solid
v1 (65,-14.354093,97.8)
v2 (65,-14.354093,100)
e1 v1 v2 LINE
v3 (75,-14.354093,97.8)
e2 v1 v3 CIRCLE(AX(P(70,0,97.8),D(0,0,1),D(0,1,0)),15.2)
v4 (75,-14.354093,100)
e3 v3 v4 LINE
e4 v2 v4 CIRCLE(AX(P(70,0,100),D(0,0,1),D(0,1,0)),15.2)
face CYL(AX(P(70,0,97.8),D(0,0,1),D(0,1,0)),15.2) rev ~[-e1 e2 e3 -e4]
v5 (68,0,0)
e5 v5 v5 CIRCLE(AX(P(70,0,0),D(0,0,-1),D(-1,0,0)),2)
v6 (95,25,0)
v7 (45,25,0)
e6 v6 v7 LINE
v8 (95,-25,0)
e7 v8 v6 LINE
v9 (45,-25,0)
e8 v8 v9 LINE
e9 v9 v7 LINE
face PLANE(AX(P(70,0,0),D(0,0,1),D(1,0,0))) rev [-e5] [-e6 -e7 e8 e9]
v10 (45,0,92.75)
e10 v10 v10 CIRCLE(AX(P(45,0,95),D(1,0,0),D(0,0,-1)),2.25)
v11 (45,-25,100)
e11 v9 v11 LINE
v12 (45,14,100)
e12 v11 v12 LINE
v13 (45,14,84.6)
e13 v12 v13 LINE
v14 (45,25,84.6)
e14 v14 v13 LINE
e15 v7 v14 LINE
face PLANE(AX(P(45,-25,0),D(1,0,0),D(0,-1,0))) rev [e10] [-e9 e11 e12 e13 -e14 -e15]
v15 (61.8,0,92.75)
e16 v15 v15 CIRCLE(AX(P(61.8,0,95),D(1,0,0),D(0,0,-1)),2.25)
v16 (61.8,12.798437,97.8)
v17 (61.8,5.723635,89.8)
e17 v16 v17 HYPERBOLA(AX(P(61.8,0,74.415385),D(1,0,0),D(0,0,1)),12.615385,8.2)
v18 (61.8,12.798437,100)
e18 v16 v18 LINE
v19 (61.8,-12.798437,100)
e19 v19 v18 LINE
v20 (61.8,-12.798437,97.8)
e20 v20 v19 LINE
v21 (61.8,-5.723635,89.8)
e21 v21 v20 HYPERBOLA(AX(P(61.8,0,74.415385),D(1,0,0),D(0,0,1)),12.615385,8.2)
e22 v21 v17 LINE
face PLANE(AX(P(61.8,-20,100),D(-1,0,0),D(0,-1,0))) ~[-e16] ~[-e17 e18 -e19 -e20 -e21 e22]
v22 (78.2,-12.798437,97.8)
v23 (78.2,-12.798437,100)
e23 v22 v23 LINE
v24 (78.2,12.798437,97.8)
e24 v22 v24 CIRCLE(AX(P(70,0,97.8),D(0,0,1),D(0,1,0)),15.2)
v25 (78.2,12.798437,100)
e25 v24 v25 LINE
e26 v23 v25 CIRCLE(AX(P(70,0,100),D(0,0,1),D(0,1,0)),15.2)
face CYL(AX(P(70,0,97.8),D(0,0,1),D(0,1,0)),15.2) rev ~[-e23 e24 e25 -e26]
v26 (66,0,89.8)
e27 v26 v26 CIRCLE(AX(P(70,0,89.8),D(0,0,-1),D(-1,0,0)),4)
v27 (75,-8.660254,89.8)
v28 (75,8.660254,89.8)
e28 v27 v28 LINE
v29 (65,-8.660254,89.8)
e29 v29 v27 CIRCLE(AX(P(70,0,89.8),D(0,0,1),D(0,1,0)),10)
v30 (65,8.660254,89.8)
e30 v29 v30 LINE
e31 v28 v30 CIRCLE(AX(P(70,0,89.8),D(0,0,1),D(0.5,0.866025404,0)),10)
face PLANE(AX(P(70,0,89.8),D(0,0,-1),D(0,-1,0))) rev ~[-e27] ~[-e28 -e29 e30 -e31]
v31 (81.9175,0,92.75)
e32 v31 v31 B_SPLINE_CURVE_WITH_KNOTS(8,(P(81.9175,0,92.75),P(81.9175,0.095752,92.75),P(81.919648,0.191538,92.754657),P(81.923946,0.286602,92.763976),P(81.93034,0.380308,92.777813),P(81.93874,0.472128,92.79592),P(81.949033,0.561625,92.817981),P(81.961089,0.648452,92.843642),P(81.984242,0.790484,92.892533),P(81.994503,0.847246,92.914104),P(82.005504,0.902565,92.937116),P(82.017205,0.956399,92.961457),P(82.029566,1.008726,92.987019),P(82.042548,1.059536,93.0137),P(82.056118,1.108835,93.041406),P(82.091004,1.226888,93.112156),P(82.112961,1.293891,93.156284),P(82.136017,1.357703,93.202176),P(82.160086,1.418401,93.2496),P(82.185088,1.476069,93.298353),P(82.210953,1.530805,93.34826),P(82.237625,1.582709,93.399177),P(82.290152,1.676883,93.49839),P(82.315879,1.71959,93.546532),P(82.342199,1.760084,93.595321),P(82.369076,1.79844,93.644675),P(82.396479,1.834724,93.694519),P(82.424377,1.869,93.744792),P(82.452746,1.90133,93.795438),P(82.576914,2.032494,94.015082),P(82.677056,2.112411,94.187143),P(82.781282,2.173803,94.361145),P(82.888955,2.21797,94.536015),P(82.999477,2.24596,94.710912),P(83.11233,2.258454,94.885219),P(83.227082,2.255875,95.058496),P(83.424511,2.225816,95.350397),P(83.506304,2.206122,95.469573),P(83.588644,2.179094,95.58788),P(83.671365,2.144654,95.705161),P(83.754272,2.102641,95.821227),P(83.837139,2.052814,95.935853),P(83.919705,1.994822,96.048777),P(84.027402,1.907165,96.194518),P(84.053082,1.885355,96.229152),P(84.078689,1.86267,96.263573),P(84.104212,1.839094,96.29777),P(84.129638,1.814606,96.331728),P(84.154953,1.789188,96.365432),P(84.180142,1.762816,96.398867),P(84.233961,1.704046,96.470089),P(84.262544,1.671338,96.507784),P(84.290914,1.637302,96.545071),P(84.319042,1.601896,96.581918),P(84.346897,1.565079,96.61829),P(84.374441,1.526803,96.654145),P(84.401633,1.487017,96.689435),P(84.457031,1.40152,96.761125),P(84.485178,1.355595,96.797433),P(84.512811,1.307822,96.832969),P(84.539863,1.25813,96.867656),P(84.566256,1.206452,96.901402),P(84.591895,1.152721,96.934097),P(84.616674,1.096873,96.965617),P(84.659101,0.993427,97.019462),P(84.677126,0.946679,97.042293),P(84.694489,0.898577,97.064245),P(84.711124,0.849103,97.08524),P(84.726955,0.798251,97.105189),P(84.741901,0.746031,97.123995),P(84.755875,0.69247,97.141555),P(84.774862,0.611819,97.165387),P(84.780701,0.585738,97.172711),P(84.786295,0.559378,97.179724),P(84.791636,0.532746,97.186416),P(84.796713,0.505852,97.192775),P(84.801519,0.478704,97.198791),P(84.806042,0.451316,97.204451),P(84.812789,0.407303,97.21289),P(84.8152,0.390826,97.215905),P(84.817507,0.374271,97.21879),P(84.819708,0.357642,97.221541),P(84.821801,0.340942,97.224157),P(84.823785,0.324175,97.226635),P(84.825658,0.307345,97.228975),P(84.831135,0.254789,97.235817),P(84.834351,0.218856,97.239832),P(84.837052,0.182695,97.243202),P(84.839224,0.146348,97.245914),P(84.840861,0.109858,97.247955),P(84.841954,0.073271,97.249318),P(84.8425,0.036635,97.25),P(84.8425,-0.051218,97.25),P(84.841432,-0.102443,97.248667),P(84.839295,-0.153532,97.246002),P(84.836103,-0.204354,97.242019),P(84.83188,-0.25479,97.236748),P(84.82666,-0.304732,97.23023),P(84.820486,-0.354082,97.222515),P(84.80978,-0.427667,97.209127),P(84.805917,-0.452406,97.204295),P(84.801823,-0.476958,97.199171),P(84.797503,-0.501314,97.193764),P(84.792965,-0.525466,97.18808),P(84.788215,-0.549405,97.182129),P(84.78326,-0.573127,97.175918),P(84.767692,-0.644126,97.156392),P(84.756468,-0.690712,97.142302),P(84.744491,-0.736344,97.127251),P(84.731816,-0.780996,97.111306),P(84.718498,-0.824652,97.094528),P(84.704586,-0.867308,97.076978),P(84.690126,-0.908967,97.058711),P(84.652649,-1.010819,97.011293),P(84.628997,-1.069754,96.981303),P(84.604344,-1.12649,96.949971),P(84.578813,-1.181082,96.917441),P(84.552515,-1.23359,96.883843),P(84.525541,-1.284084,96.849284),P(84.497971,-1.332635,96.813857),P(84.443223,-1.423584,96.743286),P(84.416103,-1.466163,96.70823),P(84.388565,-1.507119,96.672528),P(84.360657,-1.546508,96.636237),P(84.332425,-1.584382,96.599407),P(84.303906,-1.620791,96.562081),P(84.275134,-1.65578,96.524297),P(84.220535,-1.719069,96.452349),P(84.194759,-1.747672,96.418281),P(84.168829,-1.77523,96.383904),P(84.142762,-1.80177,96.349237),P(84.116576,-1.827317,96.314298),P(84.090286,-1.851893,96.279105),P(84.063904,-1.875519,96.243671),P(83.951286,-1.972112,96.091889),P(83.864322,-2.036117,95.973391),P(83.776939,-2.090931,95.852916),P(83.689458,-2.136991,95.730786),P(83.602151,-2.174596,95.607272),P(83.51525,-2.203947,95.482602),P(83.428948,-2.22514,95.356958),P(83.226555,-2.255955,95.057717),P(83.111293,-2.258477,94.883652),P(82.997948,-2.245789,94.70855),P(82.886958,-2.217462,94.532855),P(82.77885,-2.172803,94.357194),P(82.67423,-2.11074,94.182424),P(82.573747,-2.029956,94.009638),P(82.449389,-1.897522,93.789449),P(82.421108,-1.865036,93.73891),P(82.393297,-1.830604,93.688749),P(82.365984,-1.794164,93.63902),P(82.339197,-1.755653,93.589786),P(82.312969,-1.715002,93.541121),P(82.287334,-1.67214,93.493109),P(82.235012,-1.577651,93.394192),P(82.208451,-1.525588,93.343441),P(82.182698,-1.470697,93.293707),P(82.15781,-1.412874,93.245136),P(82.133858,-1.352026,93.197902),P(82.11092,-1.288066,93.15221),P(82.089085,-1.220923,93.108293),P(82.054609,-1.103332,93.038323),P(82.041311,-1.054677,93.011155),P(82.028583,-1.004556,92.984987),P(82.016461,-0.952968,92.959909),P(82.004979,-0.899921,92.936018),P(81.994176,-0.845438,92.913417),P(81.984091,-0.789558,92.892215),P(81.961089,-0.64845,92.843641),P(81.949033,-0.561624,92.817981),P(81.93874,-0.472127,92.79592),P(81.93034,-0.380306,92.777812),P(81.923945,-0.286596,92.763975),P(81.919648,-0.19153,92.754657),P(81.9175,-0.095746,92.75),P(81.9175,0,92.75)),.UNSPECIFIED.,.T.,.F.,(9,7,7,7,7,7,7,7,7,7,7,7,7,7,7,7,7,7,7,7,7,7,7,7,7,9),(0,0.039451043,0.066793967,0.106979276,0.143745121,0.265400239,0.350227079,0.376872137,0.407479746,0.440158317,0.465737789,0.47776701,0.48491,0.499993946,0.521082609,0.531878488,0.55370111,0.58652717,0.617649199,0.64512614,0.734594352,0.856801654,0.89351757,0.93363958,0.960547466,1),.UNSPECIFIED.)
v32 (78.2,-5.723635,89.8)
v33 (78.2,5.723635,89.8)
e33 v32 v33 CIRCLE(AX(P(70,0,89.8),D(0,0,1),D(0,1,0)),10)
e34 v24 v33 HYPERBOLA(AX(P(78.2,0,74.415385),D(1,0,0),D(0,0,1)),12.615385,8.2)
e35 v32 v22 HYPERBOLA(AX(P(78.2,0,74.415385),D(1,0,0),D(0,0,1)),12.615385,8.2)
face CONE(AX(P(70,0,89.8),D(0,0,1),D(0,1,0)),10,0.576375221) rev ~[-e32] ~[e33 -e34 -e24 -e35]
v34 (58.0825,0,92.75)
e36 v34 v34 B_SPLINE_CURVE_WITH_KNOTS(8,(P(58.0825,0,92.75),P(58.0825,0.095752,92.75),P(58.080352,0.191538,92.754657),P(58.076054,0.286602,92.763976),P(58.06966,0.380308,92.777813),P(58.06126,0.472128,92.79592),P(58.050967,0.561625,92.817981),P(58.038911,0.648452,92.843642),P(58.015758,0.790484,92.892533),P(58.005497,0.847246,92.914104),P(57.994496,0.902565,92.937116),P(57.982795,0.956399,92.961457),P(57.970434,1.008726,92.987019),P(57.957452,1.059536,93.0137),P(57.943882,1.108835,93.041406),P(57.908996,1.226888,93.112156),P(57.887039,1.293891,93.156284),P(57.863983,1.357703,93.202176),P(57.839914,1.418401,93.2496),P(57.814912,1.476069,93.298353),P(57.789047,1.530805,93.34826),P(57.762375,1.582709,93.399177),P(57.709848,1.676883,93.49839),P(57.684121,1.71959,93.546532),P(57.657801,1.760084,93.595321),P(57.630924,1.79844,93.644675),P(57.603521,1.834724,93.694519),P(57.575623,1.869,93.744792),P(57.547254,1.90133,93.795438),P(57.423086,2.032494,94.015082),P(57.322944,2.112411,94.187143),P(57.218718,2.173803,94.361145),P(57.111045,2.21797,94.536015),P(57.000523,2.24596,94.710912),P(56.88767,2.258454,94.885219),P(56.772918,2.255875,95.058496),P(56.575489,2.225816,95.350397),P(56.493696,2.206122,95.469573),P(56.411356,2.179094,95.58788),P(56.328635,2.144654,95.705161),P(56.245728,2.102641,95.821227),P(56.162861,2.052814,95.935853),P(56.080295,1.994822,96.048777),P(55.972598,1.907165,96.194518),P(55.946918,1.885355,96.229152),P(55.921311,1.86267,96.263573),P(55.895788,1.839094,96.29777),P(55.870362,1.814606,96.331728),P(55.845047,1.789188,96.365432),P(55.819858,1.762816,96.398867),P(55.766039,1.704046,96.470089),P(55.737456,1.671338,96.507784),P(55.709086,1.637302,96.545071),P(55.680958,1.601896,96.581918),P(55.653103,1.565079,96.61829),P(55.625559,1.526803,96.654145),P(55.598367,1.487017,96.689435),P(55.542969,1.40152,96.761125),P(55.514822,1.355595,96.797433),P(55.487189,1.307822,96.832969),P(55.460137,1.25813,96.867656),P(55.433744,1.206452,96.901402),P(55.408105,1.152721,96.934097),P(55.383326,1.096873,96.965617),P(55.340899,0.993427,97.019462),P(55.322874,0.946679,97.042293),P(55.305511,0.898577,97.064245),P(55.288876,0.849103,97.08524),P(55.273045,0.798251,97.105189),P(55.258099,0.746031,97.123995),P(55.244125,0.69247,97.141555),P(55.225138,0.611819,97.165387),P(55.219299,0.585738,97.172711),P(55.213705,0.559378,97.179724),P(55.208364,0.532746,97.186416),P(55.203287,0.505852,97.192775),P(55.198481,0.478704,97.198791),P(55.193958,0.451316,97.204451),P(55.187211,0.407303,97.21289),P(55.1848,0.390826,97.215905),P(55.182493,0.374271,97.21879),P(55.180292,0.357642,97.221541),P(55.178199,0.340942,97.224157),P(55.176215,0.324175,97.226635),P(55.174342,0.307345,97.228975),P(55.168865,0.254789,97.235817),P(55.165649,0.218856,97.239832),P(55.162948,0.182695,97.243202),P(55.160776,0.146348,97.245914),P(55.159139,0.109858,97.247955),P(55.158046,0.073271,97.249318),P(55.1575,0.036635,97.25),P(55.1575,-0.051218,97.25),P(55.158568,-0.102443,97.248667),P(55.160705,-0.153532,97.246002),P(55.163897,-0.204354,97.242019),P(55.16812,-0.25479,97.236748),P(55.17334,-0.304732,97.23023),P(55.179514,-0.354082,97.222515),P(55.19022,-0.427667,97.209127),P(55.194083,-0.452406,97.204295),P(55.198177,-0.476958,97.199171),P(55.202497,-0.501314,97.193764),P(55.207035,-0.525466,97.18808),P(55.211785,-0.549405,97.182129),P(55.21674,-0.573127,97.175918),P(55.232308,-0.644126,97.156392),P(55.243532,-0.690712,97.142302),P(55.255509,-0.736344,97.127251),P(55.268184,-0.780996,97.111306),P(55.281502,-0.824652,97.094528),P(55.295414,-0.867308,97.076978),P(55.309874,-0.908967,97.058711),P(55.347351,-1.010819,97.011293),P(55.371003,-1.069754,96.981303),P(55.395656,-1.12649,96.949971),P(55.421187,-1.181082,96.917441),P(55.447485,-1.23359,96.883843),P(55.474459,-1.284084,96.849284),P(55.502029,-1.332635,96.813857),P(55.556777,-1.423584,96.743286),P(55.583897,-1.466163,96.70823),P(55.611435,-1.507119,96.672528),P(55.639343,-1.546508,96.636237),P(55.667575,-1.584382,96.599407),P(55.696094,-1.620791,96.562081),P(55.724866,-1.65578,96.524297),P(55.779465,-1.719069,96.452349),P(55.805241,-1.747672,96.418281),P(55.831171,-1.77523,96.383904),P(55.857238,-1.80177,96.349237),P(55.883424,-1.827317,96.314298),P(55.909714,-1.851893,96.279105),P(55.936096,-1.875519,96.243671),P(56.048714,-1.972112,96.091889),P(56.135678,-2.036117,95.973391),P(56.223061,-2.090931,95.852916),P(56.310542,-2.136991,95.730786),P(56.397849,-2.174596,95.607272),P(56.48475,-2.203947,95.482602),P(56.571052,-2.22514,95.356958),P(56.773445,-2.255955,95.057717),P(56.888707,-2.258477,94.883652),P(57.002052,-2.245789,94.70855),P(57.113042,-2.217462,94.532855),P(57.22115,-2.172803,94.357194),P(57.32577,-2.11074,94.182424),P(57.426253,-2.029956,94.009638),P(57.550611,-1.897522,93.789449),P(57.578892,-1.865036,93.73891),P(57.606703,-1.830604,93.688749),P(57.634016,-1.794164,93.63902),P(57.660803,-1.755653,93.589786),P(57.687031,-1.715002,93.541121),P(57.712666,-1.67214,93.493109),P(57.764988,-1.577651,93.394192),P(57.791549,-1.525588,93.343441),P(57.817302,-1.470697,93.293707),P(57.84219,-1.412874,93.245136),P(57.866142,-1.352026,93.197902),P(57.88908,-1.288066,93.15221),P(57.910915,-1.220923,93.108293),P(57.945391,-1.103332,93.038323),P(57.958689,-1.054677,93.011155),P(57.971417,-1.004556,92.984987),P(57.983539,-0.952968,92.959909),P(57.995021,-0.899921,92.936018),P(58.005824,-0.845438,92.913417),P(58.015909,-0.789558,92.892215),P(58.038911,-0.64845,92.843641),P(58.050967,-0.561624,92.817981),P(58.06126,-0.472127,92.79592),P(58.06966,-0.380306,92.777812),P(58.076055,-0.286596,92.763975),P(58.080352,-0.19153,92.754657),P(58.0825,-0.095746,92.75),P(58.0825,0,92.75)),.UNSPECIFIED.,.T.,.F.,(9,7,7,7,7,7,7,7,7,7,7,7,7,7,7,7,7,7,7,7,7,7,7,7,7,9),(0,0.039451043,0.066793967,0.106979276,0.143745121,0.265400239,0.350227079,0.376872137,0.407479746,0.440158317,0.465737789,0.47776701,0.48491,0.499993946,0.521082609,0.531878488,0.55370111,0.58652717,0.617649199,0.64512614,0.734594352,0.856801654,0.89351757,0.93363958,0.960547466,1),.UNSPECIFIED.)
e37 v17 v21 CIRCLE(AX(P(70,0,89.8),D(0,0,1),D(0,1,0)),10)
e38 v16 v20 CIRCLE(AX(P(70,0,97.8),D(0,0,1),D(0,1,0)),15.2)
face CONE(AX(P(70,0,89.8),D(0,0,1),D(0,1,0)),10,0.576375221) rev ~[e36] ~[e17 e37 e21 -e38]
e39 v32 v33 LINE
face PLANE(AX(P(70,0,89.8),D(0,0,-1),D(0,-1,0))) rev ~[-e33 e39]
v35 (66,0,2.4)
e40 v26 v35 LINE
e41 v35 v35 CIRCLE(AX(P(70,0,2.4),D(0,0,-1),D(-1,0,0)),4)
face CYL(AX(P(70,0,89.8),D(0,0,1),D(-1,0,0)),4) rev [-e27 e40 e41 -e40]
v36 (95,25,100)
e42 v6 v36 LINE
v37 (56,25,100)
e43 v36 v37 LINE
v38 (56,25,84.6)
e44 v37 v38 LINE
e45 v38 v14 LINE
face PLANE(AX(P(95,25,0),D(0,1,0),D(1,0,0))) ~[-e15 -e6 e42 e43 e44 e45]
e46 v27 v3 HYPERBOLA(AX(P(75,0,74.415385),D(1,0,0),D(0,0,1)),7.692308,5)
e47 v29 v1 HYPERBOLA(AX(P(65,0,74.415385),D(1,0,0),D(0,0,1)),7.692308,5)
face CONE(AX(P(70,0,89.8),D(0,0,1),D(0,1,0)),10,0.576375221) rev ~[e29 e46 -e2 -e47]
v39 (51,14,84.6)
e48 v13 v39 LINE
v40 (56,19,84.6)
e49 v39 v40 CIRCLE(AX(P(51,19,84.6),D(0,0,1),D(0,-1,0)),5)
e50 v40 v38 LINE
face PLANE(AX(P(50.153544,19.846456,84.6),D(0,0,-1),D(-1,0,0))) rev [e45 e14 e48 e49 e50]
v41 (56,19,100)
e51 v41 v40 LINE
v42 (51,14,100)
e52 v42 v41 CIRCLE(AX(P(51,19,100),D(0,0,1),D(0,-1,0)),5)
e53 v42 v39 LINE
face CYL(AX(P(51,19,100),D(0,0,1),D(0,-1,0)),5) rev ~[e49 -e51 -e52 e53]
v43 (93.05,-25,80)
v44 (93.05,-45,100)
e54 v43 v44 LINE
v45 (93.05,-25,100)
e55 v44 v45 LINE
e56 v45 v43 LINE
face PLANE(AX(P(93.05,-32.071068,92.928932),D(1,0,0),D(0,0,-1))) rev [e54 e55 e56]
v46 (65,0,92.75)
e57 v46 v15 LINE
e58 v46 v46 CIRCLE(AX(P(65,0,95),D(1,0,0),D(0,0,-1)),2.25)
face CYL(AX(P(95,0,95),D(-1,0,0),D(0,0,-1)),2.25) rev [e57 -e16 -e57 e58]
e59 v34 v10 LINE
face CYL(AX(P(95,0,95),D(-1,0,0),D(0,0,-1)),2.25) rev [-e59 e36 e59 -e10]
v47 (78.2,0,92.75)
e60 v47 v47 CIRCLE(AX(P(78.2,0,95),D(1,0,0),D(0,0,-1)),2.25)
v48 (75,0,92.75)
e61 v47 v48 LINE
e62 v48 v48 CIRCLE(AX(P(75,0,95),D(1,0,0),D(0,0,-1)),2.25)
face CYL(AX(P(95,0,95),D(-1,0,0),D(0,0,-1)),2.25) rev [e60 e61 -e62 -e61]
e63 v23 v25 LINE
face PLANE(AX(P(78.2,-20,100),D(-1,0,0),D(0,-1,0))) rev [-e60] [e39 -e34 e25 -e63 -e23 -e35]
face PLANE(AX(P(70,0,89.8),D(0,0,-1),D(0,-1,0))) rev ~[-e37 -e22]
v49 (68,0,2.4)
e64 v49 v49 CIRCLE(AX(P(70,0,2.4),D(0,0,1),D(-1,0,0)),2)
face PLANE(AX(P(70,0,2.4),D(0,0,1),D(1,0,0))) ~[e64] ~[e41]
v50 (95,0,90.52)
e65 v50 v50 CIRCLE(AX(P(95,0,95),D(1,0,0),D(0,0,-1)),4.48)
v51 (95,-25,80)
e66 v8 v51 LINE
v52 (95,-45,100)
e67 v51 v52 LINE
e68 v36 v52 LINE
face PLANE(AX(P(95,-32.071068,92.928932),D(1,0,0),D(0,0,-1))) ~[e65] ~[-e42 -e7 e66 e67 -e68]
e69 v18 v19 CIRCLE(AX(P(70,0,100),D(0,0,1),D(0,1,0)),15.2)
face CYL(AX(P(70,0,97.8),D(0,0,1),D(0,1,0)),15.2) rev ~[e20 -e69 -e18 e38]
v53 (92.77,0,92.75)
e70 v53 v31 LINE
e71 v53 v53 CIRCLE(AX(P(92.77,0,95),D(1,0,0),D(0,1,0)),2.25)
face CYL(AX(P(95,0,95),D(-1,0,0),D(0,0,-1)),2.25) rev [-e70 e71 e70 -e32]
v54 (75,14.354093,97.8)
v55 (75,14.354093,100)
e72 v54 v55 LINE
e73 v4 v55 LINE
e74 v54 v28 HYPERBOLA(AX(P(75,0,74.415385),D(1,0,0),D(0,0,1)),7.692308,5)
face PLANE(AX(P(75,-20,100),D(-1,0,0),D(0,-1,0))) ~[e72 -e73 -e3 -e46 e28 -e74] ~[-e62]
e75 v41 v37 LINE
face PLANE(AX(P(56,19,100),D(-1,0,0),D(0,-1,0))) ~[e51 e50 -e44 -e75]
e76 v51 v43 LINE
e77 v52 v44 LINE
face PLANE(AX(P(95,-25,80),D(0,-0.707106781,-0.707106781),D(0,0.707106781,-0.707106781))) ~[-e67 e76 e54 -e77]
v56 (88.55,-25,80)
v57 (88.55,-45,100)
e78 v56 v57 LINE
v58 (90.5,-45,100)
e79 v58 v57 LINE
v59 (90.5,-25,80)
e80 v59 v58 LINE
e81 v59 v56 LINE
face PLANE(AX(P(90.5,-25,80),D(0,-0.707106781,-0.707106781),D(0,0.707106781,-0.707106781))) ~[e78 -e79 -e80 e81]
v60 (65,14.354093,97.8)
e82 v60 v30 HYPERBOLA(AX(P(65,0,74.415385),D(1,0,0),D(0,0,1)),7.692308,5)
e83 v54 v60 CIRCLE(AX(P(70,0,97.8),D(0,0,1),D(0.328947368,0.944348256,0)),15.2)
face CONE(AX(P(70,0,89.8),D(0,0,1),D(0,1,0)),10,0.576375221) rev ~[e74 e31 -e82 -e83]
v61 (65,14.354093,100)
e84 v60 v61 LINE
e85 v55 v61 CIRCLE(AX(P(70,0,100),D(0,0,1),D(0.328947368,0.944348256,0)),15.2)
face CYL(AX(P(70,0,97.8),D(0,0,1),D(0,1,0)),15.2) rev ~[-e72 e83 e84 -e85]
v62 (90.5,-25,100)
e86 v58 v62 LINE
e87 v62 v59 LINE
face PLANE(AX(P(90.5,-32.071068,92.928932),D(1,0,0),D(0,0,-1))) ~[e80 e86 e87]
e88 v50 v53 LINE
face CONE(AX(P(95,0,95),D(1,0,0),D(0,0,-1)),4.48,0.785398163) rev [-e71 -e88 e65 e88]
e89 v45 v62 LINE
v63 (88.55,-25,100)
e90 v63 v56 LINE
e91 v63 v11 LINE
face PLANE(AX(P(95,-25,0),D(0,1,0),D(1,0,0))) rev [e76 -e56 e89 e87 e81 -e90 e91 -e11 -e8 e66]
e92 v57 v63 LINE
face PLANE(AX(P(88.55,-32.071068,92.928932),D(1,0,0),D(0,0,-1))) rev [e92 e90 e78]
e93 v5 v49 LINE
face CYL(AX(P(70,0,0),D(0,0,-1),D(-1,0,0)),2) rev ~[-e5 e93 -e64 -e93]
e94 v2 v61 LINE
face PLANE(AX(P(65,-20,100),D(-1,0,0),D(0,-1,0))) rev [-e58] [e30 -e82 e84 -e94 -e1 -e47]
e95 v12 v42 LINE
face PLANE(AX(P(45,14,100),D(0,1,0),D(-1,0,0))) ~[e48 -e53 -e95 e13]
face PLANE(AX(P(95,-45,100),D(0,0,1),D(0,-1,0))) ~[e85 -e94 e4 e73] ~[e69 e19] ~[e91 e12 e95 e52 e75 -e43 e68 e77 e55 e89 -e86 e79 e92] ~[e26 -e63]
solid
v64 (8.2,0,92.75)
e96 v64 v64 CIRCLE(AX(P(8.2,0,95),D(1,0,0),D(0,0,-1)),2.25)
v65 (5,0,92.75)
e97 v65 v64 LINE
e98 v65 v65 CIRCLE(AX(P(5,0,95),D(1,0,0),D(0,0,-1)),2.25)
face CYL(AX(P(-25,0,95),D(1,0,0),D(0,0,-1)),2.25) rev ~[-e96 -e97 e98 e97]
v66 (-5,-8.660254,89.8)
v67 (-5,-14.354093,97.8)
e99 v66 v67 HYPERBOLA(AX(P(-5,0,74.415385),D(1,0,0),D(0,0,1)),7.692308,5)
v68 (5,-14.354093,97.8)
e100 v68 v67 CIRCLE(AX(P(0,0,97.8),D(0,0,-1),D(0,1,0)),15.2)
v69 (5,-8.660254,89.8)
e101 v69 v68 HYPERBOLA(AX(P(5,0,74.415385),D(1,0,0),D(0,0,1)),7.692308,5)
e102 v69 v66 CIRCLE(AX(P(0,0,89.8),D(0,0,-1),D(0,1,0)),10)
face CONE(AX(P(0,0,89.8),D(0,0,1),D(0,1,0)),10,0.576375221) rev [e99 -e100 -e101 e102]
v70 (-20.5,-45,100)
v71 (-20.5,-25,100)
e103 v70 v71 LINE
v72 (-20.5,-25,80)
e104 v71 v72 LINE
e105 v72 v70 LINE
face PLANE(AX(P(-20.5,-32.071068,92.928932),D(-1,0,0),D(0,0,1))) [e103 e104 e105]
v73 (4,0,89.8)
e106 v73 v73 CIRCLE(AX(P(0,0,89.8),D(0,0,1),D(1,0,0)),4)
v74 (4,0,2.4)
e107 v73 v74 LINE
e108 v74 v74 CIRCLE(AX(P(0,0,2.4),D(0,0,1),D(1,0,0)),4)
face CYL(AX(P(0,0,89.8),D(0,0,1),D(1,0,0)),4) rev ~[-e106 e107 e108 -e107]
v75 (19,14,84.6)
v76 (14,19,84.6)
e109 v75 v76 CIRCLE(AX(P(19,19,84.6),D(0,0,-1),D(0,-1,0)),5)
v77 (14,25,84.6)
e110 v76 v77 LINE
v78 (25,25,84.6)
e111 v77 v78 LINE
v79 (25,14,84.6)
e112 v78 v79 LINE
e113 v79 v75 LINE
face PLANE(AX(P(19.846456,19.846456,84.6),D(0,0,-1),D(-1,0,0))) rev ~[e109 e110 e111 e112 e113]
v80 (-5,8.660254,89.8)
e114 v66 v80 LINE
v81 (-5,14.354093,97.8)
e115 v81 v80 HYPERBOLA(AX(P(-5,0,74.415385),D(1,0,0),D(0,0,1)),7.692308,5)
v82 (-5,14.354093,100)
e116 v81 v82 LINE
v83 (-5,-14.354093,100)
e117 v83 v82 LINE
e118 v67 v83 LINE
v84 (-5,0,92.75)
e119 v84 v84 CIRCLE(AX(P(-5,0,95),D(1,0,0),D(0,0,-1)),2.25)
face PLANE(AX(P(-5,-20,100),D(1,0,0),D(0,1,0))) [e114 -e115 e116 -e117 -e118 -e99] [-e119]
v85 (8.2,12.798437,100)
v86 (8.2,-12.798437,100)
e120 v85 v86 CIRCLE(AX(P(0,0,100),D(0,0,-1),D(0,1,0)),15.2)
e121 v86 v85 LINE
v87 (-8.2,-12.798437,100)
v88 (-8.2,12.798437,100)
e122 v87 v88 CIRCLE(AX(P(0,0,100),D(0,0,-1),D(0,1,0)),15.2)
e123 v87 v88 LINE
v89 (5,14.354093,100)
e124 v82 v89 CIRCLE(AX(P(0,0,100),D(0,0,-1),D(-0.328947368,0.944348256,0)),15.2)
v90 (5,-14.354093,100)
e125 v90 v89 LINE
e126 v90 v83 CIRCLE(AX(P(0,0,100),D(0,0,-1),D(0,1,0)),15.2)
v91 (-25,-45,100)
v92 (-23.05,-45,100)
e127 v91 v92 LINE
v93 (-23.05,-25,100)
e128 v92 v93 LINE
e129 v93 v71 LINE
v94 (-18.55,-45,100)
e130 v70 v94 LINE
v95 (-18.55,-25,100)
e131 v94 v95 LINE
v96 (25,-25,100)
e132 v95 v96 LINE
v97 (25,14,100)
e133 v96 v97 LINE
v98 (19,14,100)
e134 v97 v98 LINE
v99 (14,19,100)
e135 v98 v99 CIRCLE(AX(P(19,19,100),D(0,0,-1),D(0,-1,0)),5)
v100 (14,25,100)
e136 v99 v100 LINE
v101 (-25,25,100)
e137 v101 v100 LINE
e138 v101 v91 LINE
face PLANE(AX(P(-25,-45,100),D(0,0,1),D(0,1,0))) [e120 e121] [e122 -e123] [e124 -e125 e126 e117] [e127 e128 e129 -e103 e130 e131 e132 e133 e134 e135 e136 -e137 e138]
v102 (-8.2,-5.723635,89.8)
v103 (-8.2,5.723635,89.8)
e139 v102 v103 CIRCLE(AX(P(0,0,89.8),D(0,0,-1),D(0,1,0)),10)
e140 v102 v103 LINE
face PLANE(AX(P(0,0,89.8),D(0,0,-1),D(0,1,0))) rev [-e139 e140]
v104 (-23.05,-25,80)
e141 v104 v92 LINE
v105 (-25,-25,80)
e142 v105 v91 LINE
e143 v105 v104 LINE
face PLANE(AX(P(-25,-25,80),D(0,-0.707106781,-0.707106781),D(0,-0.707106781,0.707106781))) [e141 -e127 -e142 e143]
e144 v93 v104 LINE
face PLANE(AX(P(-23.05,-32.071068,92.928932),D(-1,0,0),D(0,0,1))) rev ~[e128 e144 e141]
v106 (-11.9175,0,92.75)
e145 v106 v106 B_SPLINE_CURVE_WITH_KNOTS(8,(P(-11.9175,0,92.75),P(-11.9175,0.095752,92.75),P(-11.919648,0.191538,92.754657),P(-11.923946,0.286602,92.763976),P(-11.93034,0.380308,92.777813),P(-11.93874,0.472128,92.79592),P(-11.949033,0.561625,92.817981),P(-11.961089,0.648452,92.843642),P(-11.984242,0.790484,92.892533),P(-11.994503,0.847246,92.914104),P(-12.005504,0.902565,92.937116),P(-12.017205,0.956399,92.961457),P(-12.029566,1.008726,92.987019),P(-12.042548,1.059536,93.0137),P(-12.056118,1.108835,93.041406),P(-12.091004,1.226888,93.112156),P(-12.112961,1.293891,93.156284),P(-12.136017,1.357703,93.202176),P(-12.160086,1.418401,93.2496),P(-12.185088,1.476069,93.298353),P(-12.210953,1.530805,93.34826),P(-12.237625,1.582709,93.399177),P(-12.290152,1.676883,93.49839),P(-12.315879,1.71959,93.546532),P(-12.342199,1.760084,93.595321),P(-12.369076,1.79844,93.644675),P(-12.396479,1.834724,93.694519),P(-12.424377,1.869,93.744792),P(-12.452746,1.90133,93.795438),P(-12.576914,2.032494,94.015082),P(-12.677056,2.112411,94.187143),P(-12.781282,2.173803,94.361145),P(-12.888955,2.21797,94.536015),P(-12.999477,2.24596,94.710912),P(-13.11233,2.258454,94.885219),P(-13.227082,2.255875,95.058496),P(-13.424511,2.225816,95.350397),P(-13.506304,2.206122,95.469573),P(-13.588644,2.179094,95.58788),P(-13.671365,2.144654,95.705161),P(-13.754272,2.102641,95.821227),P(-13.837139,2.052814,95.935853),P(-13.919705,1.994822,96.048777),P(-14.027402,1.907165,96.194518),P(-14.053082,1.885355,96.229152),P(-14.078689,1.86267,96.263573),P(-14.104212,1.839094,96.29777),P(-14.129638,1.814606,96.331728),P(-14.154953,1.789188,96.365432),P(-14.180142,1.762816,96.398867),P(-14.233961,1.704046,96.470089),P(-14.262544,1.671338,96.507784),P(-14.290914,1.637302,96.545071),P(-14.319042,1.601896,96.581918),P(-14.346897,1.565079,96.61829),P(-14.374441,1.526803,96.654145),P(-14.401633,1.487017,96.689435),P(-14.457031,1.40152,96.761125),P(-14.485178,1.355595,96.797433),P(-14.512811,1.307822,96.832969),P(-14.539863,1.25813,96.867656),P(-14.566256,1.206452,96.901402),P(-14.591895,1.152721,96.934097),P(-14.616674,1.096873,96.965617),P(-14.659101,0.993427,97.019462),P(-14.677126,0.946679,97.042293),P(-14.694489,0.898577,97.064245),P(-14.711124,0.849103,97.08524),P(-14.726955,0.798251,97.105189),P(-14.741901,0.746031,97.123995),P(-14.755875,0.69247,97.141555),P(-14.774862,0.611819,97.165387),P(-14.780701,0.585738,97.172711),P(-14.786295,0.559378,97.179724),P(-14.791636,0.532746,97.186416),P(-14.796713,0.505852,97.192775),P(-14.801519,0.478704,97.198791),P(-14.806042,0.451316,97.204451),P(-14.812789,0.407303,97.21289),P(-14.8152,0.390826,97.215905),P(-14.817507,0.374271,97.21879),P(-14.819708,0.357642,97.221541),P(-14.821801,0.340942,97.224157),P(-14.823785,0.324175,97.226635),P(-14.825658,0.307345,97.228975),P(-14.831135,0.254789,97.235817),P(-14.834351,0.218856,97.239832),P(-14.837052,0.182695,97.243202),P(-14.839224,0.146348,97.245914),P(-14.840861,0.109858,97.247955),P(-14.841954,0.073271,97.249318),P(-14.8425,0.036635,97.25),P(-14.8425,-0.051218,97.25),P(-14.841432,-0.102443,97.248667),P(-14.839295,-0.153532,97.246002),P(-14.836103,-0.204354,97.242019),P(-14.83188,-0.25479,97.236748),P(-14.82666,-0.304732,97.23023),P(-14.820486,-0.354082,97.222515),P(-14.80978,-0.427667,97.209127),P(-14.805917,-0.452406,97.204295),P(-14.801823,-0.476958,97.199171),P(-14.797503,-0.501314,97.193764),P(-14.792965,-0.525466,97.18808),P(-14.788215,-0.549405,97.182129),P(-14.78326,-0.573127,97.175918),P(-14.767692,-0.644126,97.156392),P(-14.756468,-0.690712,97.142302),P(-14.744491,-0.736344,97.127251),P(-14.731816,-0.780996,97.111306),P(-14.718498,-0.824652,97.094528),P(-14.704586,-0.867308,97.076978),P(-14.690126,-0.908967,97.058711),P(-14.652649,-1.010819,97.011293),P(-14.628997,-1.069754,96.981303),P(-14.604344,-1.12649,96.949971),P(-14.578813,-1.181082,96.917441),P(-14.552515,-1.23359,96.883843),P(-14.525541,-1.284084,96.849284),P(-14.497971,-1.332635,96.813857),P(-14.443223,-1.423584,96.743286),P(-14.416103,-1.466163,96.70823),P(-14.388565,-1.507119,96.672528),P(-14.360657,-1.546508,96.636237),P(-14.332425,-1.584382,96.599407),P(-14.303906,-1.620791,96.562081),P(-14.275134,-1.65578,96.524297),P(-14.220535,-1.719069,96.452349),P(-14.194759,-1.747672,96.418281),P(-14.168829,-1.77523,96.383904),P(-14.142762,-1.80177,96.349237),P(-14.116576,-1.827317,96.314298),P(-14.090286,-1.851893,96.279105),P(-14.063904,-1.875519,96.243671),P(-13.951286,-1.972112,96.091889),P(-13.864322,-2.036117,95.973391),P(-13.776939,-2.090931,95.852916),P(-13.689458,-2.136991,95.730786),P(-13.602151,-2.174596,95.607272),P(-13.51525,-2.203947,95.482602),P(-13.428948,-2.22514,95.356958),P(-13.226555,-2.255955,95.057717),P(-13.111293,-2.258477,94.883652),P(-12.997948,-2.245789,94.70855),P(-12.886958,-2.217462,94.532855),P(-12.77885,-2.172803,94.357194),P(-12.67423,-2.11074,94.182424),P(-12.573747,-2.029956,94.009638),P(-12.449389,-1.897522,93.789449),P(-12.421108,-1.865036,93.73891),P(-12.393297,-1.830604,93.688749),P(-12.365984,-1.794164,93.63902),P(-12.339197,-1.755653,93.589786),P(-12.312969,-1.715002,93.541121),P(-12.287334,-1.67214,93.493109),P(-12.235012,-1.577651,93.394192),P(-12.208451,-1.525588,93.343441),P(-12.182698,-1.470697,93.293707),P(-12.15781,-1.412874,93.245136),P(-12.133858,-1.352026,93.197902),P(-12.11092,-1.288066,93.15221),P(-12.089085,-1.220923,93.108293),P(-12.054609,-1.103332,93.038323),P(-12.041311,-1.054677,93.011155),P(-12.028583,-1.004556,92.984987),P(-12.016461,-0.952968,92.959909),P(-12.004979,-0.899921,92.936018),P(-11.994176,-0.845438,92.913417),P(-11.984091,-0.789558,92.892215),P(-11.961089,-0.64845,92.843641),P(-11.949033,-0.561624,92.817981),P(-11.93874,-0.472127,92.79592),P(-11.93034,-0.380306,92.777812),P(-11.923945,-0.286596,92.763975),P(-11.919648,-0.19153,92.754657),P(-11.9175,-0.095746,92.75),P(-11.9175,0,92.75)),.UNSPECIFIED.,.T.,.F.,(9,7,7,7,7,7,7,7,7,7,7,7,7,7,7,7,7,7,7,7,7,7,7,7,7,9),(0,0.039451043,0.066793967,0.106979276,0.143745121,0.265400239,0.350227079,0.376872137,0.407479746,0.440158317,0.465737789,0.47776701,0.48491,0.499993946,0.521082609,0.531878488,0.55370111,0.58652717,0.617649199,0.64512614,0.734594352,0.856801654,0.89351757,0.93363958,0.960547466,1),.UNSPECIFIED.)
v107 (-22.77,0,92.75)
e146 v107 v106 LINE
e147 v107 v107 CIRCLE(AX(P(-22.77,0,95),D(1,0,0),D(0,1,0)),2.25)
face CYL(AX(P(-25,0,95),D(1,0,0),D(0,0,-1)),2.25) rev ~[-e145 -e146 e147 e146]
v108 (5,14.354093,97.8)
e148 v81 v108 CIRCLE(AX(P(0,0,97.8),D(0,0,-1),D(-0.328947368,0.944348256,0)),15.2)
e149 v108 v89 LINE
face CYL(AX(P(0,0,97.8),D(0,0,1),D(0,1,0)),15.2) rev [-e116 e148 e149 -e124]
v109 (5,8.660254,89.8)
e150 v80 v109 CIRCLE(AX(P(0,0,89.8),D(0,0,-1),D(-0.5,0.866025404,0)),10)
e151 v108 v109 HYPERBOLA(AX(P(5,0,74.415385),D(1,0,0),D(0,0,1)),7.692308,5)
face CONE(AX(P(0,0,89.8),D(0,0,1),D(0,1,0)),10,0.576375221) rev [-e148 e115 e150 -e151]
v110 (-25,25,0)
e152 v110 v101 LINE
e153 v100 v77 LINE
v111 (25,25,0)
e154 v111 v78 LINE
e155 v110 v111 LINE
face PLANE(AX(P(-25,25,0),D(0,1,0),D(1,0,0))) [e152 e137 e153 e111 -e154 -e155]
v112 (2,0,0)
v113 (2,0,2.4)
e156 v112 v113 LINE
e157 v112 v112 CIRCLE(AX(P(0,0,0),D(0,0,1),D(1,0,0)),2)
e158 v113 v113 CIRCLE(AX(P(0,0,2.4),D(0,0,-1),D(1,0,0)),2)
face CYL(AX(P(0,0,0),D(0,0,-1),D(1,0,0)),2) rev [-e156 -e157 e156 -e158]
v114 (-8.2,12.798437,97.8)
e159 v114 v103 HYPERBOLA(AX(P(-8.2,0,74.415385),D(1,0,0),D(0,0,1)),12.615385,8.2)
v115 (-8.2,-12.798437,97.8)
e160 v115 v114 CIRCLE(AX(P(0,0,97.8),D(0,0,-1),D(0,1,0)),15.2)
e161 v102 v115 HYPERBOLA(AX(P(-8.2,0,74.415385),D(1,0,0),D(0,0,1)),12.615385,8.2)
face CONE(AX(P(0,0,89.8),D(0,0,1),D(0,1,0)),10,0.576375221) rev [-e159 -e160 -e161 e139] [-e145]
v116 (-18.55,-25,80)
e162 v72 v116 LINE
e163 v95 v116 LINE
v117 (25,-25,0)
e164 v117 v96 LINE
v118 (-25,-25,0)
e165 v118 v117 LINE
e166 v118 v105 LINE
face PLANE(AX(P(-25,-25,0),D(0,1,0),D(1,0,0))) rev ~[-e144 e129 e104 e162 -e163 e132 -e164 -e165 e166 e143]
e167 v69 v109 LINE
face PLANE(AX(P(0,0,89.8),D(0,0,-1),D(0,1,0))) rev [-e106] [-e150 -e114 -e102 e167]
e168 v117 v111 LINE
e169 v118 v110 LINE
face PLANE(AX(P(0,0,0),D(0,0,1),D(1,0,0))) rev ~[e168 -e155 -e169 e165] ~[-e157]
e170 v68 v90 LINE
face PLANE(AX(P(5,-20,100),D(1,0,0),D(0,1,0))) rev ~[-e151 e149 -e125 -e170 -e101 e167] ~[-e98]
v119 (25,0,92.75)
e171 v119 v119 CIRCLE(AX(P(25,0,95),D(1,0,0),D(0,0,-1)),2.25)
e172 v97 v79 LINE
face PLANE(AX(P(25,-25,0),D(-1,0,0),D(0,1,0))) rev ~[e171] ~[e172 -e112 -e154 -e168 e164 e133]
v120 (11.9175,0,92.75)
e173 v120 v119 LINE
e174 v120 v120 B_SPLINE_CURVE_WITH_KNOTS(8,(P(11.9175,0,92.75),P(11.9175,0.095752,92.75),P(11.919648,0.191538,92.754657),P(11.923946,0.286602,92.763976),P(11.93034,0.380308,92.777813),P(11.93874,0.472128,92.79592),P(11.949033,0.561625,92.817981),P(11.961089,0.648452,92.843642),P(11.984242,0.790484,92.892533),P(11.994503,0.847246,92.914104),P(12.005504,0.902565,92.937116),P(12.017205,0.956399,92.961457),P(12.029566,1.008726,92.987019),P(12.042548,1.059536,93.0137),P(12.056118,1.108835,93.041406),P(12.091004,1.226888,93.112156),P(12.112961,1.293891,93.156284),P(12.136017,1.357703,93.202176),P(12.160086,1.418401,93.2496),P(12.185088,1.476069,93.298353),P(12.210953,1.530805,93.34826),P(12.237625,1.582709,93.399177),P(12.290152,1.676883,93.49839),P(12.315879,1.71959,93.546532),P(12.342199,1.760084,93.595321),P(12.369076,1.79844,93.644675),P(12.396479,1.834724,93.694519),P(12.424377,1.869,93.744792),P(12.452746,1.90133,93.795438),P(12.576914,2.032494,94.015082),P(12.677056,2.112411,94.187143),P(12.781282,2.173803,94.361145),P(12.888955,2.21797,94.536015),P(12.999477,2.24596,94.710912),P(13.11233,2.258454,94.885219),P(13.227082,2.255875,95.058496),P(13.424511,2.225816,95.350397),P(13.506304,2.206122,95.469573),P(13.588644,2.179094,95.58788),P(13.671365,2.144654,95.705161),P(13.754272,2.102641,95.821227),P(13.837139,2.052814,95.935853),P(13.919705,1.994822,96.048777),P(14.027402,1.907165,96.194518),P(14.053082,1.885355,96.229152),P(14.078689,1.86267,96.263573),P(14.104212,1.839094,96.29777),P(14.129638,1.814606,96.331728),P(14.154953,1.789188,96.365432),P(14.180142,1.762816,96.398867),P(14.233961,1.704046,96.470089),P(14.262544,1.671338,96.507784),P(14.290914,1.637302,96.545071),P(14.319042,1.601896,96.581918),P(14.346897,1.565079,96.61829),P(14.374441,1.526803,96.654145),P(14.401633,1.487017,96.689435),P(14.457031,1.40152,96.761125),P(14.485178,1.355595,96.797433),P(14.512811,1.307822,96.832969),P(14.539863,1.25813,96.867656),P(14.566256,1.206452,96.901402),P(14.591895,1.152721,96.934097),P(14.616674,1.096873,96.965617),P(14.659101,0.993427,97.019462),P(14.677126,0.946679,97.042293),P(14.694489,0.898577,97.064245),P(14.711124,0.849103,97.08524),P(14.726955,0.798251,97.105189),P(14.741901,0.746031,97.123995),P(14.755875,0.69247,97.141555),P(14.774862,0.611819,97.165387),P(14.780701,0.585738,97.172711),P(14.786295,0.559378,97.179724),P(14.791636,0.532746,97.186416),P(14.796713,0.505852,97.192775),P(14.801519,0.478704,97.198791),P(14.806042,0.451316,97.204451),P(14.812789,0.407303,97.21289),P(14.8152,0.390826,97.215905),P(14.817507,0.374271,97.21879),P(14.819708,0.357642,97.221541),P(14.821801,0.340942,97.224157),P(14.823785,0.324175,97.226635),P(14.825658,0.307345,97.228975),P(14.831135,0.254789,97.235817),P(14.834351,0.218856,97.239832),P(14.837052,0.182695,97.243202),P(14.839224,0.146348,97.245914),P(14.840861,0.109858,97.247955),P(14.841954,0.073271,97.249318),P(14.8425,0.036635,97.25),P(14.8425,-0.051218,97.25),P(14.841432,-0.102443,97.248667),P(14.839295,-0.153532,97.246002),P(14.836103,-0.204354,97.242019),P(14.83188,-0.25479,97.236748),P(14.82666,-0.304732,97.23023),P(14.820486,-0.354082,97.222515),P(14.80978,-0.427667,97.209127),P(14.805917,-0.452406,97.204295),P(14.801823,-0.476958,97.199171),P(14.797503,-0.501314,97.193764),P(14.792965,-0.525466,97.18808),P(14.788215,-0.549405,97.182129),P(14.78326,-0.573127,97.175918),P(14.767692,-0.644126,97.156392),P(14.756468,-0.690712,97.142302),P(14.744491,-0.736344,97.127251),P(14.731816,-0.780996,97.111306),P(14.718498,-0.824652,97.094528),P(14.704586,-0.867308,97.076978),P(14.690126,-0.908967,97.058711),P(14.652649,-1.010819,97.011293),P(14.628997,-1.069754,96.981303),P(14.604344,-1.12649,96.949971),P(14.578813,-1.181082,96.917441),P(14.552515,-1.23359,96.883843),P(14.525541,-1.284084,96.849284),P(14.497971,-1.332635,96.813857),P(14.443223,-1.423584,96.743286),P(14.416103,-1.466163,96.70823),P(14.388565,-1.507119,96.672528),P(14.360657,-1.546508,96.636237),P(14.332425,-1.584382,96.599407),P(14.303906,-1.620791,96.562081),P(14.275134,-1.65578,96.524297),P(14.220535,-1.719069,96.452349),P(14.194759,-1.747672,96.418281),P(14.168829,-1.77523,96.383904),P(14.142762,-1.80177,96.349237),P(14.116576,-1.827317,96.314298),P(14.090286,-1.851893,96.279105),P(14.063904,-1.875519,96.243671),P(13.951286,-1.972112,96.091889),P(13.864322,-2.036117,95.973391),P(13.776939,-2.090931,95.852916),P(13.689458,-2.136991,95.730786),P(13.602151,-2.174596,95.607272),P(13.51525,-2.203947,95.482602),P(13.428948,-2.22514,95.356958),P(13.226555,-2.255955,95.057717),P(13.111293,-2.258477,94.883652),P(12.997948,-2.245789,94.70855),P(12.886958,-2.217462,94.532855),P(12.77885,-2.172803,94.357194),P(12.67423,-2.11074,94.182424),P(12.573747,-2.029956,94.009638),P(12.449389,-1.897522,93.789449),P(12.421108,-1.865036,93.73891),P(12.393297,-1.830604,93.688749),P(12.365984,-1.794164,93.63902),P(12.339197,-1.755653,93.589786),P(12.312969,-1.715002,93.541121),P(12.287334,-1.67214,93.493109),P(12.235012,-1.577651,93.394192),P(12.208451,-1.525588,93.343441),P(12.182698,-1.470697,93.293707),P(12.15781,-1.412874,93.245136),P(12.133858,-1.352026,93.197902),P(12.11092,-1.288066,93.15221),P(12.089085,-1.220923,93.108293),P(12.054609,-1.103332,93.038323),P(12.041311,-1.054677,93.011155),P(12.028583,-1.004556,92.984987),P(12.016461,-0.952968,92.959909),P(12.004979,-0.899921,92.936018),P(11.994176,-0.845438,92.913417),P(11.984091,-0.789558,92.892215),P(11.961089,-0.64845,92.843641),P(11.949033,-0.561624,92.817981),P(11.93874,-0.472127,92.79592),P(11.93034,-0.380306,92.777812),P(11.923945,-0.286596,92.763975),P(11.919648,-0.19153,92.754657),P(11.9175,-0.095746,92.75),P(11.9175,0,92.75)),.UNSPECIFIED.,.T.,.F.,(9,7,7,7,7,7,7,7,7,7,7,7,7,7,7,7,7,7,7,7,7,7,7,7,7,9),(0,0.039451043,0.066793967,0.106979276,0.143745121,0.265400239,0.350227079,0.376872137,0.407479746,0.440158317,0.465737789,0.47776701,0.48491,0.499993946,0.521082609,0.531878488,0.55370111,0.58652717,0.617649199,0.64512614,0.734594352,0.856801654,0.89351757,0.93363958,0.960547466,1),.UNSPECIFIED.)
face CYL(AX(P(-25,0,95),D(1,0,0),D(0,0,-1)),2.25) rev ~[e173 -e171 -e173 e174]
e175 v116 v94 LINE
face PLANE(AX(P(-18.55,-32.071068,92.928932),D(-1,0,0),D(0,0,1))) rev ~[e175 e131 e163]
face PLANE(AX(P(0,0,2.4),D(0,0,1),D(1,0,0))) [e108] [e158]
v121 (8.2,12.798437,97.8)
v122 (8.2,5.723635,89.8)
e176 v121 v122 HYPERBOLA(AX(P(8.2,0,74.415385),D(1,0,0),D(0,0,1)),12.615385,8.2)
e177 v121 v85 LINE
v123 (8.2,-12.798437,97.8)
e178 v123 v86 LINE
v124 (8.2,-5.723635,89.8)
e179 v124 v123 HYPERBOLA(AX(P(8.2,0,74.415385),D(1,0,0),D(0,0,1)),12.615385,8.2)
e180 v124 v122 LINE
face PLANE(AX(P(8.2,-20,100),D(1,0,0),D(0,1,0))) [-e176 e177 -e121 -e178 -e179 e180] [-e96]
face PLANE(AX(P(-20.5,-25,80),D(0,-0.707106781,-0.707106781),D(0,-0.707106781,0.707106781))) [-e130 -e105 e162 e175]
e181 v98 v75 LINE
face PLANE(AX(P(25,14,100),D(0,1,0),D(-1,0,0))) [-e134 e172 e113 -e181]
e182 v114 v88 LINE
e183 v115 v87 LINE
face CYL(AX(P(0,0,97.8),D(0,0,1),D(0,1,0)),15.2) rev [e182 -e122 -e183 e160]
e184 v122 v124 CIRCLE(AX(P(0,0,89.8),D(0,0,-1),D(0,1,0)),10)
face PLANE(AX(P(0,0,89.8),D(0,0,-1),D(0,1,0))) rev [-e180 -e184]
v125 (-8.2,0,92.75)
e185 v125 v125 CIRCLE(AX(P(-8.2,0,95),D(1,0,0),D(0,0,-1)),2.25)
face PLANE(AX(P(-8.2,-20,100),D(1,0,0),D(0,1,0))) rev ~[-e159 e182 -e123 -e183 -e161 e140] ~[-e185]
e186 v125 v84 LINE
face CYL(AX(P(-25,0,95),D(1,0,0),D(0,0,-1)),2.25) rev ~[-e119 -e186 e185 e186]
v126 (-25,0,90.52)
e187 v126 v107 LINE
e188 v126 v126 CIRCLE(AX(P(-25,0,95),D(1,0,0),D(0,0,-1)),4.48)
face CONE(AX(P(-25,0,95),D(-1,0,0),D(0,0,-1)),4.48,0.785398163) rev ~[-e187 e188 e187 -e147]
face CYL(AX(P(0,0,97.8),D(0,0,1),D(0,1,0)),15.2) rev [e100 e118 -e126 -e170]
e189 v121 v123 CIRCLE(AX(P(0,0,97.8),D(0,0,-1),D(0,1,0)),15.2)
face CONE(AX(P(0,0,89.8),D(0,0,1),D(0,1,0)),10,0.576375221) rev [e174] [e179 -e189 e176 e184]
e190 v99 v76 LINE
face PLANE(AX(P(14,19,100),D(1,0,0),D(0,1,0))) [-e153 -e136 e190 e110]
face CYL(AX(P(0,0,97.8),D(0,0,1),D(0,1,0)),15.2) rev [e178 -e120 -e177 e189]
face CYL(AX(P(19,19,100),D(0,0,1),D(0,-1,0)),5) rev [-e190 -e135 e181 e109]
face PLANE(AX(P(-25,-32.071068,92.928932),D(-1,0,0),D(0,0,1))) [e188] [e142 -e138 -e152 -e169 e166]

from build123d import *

# Parameters (mm, degrees)
CROQUIS1_W                                           = 50
CROQUIS1_H                                           = 50
CROQUIS1_R                                           = 2
SALIENTE_EXTRUIR2_DEPTH                              = 100
CROQUIS4_W                                           = 3.2
CROQUIS4_H                                           = 40
SALIENTE_EXTRUIR5_DEPTH                              = 10.2
CROQUIS8_R                                           = 4
CORTAR_EXTRUIR3_DEPTH                                = 87.4
CORTAR_EXTRUIR2_START                                = -50
CROQUIS7_R                                           = 2
CORTAR_EXTRUIR2_DEPTH                                = 50
REFRENTADO_PARA_TORNILLO_TAP_N_CON_CABEZ_D           = 4.5
REFRENTADO_PARA_TORNILLO_TAP_N_CON_CABEZ_CSINK_D     = 8.96
REFRENTADO_PARA_TORNILLO_TAP_N_CON_CABEZ_CSINK_ANGLE = 90
SALIENTE_EXTRUIR6_DEPTH                              = 1.95
SALIENTE_EXTRUIR7_START                              = -4.5
SALIENTE_EXTRUIR7_DEPTH                              = 1.95
CORTAR_EXTRUIR4_DEPTH                                = 15.4


with BuildPart() as part:
    # Croquis1 → Saliente-Extruir2 (new body)
    with BuildSketch(Plane.XY):
        Rectangle(CROQUIS1_W, CROQUIS1_H)
        Circle(CROQUIS1_R, mode=Mode.SUBTRACT)
    extrude(amount=SALIENTE_EXTRUIR2_DEPTH)

    # Croquis2 → Cortar-Revolución1 (revolve, cut)
    with BuildSketch(Plane(origin=(0, 0, 0), x_dir=(0, 0, -1), z_dir=(1, 0, 0))):
        Polygon((-100, 15.2), (-100, 0), (-89.8, 0), (-89.8, 10), (-97.8, 15.2), align=None)
    revolve(axis=Axis((0, 0, 100), (0, 0, -1)), mode=Mode.SUBTRACT)

    # Croquis4 → Saliente-Extruir5 (add)
    with BuildSketch(Plane.XY.offset(100)):
        with Locations((-6.6, 0)):
            Rectangle(CROQUIS4_W, CROQUIS4_H)
        with Locations((6.6, 0)):
            Rectangle(CROQUIS4_W, CROQUIS4_H)
    extrude(amount=-SALIENTE_EXTRUIR5_DEPTH)

    # Croquis8 → Cortar-Extruir3 (cut)
    with BuildSketch(Plane.XY.offset(89.8)):
        Circle(CROQUIS8_R)
    extrude(amount=-CORTAR_EXTRUIR3_DEPTH, mode=Mode.SUBTRACT)

    # Croquis7 → Cortar-Extruir2 (cut)
    with BuildSketch(Plane.ZY.offset(25).offset(CORTAR_EXTRUIR2_START)):
        with Locations((95, 0)):
            Circle(CROQUIS7_R)
    extrude(amount=CORTAR_EXTRUIR2_DEPTH, mode=Mode.SUBTRACT)

    # Refrentado para tornillo tapón con cabeza plana de clavija de M41 (through all)
    with Locations(Plane.ZY.offset(25)):
        with Locations((95, 0)):
            CounterSinkHole(REFRENTADO_PARA_TORNILLO_TAP_N_CON_CABEZ_D / 2, REFRENTADO_PARA_TORNILLO_TAP_N_CON_CABEZ_CSINK_D / 2, counter_sink_angle=REFRENTADO_PARA_TORNILLO_TAP_N_CON_CABEZ_CSINK_ANGLE)

    # Croquis12 → Saliente-Extruir6 (add)
    with BuildSketch(Plane.ZY.offset(25)):
        Polygon((100, -25), (80, -25), (100, -45), align=None)
    extrude(amount=-SALIENTE_EXTRUIR6_DEPTH)

    # Croquis12<2> → Saliente-Extruir7 (add)
    with BuildSketch(Plane.ZY.offset(25).offset(SALIENTE_EXTRUIR7_START)):
        Polygon((100, -25), (80, -25), (100, -45), align=None)
    extrude(amount=-SALIENTE_EXTRUIR7_DEPTH)

    # Croquis13 → Cortar-Extruir4 (cut)
    with BuildSketch(Plane.XY.offset(100)):
        with BuildLine():
            Line((25, 25), (25, 14))
            Line((25, 14), (19, 14))
            ThreePointArc((19, 14), (15.464466094, 15.464466094), (14, 19))
            Line((14, 19), (14, 25))
            Line((14, 25), (25, 25))
        make_face()
    extrude(amount=-CORTAR_EXTRUIR4_DEPTH, mode=Mode.SUBTRACT)


with BuildPart() as body_2:
    # Simetría3: mirrored copy
    add(part.part.mirror(Plane(origin=(35, 0, 0), x_dir=(0, 0, 1), z_dir=(1, 0, 0))))


solid = Compound([part.part, body_2.part])
